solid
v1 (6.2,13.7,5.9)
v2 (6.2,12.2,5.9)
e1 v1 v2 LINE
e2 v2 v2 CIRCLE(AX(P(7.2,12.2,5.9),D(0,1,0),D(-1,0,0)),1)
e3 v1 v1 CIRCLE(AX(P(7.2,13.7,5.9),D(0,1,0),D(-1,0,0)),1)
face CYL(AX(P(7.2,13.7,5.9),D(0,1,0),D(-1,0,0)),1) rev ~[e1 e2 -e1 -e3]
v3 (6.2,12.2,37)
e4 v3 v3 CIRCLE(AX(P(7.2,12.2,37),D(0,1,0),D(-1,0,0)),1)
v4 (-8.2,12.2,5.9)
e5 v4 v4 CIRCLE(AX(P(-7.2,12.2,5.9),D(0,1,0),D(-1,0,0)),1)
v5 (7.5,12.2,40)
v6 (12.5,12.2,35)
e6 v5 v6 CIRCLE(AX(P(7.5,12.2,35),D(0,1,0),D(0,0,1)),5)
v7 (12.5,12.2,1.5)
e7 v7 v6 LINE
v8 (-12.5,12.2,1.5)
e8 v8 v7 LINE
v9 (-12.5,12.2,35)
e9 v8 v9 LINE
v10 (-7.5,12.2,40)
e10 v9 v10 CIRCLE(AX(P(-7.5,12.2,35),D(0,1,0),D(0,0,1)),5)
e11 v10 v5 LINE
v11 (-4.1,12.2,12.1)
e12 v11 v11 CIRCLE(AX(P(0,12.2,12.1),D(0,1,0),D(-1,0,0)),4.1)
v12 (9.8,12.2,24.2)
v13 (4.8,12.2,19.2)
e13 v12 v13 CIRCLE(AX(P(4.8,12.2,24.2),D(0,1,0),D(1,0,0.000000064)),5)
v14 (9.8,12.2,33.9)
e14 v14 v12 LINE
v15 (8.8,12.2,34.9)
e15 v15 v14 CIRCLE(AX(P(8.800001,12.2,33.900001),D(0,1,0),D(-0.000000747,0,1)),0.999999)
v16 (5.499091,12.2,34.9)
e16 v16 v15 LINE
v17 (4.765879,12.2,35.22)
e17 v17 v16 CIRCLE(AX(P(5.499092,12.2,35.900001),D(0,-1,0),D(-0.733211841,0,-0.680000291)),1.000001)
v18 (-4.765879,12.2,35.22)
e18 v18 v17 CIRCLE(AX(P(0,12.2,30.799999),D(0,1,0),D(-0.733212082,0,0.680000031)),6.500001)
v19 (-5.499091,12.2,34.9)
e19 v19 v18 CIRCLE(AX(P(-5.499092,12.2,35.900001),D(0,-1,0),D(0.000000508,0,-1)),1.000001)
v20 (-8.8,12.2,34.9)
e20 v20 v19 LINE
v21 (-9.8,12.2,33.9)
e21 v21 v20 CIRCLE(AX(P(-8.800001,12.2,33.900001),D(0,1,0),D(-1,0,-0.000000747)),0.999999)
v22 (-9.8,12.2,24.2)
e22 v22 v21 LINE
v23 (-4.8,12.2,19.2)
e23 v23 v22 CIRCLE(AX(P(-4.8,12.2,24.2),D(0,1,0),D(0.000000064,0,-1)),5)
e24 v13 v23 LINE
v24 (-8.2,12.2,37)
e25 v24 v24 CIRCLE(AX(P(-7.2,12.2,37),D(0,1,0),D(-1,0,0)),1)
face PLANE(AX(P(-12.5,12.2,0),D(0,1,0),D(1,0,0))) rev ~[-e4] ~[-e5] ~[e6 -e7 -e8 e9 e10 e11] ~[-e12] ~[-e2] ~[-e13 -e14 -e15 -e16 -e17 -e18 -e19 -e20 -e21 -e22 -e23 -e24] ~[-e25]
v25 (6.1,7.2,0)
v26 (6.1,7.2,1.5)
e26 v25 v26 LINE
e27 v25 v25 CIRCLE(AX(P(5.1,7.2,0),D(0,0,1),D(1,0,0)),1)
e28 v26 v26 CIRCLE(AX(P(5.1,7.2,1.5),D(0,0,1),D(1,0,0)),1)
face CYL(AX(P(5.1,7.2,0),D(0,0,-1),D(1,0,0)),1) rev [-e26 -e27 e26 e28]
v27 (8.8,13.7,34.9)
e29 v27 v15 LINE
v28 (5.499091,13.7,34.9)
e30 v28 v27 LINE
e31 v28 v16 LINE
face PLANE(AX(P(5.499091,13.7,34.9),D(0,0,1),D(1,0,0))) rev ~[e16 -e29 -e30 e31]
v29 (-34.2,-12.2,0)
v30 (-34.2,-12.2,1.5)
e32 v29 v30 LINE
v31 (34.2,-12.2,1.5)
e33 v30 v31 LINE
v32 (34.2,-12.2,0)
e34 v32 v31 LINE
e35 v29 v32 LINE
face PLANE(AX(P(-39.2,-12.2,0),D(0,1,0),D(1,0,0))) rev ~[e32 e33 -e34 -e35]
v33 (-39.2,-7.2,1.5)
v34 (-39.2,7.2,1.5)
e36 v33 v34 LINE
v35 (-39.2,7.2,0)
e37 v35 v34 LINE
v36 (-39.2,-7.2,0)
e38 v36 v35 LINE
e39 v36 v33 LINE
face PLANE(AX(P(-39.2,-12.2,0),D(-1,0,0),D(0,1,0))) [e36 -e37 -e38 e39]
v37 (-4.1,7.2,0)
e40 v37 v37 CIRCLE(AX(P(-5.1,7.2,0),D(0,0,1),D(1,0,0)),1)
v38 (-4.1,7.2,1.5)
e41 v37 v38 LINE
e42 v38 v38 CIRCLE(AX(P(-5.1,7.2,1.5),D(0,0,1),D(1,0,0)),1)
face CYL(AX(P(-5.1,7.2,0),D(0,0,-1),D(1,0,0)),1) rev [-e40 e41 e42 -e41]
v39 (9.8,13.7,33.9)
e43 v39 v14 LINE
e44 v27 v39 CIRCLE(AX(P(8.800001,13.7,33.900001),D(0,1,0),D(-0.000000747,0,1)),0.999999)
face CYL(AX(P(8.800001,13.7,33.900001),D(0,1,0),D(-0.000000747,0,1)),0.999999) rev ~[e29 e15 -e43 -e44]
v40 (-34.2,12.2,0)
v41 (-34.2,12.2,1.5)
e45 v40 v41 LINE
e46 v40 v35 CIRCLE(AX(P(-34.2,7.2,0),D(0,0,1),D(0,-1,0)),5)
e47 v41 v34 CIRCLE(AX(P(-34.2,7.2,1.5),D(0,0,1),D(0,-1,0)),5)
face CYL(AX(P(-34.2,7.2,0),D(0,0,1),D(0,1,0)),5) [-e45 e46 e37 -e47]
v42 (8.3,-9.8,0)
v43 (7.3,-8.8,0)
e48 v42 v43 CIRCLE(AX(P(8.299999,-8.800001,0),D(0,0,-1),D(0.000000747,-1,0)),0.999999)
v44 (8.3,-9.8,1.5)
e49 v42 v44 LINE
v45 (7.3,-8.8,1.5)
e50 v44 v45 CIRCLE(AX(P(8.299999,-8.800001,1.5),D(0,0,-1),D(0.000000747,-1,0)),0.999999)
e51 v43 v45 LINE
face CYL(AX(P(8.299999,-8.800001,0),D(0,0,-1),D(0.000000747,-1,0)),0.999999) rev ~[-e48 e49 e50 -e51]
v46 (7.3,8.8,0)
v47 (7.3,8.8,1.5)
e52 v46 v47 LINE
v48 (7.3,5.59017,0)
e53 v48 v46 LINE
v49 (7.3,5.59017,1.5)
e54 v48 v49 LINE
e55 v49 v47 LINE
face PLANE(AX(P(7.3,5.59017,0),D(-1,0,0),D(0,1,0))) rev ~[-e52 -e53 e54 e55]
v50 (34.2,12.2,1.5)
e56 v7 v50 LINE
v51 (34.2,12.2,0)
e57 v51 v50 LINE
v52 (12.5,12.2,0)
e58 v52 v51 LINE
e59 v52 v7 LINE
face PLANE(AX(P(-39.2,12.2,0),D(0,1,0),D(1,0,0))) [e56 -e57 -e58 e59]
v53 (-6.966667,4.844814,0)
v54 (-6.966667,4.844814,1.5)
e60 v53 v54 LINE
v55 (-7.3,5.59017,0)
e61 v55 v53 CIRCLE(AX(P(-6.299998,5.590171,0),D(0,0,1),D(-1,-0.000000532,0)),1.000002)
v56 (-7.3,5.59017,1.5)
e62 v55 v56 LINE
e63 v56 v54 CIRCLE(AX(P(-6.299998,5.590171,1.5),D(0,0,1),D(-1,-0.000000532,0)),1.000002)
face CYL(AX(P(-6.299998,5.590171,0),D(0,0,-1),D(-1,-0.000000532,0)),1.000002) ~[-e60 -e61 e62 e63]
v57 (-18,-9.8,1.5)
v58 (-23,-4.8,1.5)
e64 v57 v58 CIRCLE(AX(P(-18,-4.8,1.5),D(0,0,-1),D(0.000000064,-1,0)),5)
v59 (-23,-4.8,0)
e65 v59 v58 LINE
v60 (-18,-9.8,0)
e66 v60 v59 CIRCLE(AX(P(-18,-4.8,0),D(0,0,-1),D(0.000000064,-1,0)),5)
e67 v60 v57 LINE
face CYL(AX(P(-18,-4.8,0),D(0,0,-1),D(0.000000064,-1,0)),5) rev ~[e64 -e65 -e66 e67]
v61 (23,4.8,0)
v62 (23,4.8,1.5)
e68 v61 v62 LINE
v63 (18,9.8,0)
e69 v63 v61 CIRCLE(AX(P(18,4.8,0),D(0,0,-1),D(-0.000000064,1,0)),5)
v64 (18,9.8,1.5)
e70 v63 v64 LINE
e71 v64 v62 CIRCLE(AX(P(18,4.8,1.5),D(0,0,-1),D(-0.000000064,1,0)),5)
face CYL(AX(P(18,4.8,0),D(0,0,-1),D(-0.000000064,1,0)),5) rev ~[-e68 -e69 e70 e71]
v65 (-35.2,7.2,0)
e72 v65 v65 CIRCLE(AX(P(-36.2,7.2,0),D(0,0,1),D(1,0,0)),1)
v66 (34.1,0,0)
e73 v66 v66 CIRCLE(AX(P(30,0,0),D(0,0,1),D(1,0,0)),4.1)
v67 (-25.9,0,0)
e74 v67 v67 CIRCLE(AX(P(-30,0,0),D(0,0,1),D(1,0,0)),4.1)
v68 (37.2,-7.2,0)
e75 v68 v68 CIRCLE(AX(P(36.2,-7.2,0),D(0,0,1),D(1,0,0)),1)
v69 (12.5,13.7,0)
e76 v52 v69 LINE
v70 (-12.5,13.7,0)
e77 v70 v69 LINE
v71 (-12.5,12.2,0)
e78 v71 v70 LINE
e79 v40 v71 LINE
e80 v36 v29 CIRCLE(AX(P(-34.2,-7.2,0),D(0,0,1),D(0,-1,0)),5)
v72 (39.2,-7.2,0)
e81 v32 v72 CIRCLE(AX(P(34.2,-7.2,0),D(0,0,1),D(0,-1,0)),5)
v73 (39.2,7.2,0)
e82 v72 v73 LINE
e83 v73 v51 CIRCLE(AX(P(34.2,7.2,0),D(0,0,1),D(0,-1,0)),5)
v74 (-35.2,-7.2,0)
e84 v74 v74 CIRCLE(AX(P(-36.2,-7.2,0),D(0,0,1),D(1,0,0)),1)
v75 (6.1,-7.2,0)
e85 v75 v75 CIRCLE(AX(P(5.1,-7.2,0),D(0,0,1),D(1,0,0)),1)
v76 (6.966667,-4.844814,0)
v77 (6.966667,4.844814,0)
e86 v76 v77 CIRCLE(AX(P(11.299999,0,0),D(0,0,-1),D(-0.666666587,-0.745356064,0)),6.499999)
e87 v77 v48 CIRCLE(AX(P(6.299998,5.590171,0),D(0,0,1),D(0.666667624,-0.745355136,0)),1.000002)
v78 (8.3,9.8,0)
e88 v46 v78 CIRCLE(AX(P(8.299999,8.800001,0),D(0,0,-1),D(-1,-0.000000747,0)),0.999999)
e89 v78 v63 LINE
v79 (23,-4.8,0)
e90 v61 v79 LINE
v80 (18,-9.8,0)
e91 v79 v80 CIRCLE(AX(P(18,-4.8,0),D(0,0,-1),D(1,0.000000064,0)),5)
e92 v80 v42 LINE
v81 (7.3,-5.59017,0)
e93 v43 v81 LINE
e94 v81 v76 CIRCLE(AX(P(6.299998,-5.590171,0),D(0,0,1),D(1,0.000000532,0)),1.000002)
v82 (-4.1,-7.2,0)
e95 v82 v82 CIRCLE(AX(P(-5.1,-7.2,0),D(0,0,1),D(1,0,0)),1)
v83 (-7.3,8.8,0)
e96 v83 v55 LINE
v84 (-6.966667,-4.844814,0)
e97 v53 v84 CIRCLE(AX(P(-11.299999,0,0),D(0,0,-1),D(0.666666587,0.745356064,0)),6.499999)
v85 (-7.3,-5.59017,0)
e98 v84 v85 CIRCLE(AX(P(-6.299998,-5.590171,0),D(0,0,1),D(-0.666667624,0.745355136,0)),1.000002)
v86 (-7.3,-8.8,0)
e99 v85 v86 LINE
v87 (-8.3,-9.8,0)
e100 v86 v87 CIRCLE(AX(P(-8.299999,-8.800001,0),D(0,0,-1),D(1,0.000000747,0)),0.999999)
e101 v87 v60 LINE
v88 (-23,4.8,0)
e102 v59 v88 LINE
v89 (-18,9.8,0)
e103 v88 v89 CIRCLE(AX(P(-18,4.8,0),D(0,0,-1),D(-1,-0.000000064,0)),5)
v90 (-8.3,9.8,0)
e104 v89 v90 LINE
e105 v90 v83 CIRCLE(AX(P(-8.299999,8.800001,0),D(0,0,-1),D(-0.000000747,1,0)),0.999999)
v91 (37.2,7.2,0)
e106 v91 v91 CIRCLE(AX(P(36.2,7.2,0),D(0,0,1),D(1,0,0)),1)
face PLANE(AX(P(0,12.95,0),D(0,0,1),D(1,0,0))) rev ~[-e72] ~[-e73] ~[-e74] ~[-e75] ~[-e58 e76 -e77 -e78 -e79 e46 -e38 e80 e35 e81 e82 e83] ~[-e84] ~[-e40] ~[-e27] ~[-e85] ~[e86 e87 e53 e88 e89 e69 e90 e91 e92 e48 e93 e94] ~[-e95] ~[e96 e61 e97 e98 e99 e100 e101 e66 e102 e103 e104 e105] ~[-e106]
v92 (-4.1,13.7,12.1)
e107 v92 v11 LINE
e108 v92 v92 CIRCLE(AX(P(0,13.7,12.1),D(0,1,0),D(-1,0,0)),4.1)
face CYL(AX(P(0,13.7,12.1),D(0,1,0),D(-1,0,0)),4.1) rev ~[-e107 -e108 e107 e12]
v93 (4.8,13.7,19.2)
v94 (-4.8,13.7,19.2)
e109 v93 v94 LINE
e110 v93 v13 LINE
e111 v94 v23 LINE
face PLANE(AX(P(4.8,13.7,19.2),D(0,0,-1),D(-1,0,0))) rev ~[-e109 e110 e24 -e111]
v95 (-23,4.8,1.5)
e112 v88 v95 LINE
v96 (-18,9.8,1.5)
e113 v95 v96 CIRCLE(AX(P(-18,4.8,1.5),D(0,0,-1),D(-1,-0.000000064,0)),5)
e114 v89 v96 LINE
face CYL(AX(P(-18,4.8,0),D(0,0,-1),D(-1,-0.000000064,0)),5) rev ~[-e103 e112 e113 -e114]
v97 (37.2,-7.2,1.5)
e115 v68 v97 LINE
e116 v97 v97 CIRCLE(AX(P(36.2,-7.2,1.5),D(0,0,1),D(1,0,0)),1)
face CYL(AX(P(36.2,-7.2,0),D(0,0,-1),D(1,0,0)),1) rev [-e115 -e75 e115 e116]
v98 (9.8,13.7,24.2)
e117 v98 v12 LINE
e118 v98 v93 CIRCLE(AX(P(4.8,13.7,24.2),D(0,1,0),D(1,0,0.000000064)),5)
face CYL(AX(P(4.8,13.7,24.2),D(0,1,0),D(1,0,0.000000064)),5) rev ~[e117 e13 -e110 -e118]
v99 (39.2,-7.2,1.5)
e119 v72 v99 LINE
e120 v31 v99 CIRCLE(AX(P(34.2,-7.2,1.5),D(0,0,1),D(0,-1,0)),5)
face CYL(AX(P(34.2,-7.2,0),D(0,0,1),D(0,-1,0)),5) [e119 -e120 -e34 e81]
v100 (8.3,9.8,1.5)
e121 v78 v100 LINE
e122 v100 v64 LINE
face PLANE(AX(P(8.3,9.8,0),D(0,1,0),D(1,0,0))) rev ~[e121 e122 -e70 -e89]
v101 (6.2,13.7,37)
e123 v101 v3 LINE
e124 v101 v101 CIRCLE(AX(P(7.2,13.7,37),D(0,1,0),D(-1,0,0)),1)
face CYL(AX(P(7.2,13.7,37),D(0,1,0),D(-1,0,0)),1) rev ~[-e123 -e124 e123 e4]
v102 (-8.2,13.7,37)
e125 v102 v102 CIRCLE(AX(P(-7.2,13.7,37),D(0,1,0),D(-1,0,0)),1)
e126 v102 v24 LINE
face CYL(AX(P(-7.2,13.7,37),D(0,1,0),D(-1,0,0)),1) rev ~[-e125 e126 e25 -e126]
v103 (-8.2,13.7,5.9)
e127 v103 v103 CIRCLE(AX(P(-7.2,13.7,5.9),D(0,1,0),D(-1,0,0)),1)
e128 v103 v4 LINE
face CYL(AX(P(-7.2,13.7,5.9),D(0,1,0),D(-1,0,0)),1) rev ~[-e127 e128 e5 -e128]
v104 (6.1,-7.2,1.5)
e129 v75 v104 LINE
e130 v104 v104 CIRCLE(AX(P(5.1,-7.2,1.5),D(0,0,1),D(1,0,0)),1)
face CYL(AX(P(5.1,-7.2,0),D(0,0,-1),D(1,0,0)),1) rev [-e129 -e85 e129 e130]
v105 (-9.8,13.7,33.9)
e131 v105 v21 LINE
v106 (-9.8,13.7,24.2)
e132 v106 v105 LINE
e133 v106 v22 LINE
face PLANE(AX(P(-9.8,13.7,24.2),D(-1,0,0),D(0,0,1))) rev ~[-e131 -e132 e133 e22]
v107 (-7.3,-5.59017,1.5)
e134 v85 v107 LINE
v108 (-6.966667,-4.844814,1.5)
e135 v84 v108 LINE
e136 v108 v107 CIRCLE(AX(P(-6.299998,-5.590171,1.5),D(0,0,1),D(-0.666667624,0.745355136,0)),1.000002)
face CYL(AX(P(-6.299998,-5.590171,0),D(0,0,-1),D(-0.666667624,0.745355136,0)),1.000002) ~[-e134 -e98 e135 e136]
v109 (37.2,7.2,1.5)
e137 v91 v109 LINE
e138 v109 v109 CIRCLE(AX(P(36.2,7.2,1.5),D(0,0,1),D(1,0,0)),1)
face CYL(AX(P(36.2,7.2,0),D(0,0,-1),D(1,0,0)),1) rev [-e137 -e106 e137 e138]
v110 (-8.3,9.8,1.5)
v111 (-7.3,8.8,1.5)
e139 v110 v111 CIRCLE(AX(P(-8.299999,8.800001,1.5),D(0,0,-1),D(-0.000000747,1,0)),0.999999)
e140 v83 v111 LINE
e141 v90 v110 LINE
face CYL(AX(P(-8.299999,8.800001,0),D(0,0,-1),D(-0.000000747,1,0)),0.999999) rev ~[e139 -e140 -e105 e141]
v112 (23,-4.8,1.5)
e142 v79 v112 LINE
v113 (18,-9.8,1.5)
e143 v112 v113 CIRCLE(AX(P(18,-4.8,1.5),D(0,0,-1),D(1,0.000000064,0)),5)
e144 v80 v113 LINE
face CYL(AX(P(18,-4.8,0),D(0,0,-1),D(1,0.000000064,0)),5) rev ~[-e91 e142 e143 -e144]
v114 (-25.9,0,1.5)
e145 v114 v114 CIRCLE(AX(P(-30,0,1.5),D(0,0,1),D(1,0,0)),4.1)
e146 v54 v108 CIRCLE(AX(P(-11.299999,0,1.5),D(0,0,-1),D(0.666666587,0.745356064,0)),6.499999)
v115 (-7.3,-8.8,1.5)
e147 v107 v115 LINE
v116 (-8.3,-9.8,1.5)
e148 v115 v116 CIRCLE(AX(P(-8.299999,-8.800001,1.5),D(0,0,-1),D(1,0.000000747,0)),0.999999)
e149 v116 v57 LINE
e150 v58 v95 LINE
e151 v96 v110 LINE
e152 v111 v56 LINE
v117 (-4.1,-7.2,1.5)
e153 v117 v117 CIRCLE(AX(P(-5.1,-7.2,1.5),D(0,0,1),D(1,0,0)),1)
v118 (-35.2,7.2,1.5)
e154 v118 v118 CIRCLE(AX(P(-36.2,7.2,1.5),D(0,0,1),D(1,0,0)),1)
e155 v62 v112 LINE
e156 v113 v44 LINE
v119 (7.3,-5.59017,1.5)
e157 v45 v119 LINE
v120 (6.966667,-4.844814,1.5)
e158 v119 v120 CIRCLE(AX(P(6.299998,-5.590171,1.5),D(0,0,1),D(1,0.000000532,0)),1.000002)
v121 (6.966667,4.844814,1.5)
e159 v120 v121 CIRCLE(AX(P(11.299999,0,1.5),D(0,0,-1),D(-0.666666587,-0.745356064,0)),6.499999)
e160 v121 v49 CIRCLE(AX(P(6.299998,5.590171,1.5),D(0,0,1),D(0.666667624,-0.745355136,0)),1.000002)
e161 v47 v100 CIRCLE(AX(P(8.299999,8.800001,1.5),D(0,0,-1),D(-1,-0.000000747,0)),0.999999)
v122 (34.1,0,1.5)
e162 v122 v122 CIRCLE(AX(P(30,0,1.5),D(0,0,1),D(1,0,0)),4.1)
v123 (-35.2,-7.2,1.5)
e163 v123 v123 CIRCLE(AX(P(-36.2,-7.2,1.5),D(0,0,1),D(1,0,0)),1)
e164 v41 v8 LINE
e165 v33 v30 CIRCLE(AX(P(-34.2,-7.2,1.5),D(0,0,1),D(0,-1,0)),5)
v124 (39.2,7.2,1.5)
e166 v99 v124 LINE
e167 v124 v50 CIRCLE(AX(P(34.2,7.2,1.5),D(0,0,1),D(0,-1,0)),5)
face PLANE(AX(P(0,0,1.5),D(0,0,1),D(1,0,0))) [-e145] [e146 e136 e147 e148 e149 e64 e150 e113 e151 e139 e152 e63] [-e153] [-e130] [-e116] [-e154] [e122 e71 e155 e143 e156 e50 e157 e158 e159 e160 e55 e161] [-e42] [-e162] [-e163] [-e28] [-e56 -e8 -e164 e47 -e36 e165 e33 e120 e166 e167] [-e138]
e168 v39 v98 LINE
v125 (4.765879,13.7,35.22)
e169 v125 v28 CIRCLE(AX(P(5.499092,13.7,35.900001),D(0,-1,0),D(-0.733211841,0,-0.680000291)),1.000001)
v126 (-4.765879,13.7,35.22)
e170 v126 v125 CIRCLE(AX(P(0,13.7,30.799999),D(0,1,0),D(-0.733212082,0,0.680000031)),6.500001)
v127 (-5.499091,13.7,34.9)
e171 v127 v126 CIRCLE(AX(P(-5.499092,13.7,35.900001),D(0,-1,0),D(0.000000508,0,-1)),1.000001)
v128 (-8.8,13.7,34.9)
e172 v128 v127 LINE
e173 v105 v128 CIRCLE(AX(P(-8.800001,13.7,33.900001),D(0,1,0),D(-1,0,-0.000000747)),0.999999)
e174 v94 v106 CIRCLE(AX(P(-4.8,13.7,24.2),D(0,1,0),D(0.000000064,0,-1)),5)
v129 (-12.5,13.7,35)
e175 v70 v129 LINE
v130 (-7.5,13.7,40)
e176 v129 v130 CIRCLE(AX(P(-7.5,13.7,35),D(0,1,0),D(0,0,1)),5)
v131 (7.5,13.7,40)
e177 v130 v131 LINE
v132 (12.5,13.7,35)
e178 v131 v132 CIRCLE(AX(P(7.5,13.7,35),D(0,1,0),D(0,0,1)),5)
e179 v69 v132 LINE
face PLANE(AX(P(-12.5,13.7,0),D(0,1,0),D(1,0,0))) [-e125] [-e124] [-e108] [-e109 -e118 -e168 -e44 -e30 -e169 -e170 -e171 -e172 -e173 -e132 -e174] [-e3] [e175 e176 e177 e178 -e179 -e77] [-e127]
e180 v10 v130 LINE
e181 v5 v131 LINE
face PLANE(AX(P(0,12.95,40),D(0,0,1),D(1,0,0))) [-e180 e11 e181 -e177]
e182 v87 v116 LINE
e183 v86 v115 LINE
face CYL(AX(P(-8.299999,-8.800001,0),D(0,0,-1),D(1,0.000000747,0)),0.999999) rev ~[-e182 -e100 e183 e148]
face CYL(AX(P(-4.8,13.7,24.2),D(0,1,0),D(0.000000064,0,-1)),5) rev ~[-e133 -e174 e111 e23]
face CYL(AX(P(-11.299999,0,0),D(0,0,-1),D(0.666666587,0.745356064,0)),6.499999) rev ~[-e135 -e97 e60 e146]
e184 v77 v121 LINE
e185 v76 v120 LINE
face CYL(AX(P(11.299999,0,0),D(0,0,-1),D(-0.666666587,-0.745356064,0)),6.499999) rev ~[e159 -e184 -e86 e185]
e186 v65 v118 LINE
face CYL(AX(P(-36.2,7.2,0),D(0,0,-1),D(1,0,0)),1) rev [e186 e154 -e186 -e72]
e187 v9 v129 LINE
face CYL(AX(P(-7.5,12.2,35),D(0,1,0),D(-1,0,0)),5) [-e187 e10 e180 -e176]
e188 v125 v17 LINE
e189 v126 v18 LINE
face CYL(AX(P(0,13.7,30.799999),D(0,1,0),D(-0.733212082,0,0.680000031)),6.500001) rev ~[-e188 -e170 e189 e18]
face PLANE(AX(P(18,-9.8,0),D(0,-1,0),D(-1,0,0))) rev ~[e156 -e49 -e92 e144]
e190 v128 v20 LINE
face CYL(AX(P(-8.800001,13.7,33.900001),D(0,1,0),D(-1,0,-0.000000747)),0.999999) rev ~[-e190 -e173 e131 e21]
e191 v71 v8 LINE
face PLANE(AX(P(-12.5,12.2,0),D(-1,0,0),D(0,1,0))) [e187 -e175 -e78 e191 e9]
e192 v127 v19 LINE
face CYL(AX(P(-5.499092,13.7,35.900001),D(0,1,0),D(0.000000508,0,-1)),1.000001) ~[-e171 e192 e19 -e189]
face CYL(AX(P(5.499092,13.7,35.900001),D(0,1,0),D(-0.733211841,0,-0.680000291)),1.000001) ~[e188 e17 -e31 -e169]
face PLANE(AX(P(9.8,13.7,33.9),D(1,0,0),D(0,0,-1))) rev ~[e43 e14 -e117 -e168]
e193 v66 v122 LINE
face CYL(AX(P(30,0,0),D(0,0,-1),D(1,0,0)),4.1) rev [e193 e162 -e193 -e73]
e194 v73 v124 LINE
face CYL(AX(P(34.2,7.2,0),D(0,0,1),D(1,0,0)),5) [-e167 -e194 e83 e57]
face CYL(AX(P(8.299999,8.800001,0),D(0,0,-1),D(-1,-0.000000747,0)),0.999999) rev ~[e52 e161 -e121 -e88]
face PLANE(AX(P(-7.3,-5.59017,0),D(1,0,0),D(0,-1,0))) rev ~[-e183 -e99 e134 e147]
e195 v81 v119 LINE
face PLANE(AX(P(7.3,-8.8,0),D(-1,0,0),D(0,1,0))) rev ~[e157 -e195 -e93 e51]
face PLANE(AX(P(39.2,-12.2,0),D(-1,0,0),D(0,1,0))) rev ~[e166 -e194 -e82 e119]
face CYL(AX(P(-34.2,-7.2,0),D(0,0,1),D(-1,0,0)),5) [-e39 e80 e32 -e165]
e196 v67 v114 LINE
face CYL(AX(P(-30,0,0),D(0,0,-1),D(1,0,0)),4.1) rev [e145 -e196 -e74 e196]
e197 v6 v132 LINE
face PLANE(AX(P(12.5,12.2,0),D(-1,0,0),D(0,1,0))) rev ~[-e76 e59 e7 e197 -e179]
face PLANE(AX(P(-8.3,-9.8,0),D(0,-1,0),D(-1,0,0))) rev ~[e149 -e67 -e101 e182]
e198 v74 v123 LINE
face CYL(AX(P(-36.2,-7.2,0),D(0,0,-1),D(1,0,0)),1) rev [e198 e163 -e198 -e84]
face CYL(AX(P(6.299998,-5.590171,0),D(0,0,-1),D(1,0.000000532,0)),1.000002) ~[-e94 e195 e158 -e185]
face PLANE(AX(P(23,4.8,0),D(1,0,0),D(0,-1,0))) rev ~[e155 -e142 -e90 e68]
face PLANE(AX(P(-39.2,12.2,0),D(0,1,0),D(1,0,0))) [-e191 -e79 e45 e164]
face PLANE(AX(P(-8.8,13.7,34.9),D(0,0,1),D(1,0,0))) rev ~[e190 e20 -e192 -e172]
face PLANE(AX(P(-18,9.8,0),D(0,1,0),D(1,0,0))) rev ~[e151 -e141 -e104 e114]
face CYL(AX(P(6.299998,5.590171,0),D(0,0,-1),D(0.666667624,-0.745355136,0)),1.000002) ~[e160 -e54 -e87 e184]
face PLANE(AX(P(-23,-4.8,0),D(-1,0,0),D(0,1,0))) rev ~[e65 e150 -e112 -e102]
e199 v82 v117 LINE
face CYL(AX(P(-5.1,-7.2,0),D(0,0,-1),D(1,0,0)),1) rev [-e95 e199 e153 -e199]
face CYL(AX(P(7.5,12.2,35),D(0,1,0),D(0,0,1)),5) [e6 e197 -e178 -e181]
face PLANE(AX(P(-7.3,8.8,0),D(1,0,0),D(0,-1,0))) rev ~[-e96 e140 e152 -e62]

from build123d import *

# Parameters (mm, degrees)
F0_W     = 78.4
F0_H     = 24.4
F0_R     = 1
F0_R_2   = 4.1
F1_DEPTH = 1.5
F2_W     = 25
F2_H     = 1.5
F3_DEPTH = 40
F4_R     = 1
F4_R_2   = 4.1
F5_DEPTH = 1.5
F6_R     = 5


with BuildPart() as f1:
    # F0 (on Top) → F1 (new body)
    with BuildSketch(Plane.XY):
        Rectangle(F0_W, F0_H)
        with Locations((-36.2, -7.2)):
            Circle(F0_R, mode=Mode.SUBTRACT)
        with Locations((-5.1, -7.2)):
            Circle(F0_R, mode=Mode.SUBTRACT)
        with Locations((5.1, -7.2)):
            Circle(F0_R, mode=Mode.SUBTRACT)
        with Locations((36.2, -7.2)):
            Circle(F0_R, mode=Mode.SUBTRACT)
        with Locations((-30, 0)):
            Circle(F0_R_2, mode=Mode.SUBTRACT)
        with BuildLine():
            ThreePointArc((-23, 4.8), (-21.535534, 8.335534), (-18, 9.8))
            Line((-18, 9.8), (-8.3, 9.8))
            ThreePointArc((-8.3, 9.8), (-7.592893, 9.507107), (-7.3, 8.8))
            Line((-7.3, 8.8), (-7.3, 5.59017))
            ThreePointArc((-7.3, 5.59017), (-7.212871, 5.181922), (-6.966667, 4.844814))
            ThreePointArc((-6.966667, 4.844814), (-4.8, 0), (-6.966667, -4.844814))
            ThreePointArc((-6.966667, -4.844814), (-7.212871, -5.181922), (-7.3, -5.59017))
            Line((-7.3, -5.59017), (-7.3, -8.8))
            ThreePointArc((-7.3, -8.8), (-7.592893, -9.507107), (-8.3, -9.8))
            Line((-8.3, -9.8), (-18, -9.8))
            ThreePointArc((-18, -9.8), (-21.535534, -8.335534), (-23, -4.8))
            Line((-23, -4.8), (-23, 4.8))
        make_face(mode=Mode.SUBTRACT)
        with Locations((-36.2, 7.2)):
            Circle(F0_R, mode=Mode.SUBTRACT)
        with Locations((-5.1, 7.2)):
            Circle(F0_R, mode=Mode.SUBTRACT)
        with BuildLine():
            Line((7.3, 5.59017), (7.3, 8.8))
            ThreePointArc((7.3, 8.8), (7.592893, 9.507107), (8.3, 9.8))
            Line((8.3, 9.8), (18, 9.8))
            ThreePointArc((18, 9.8), (21.535534, 8.335534), (23, 4.8))
            Line((23, 4.8), (23, -4.8))
            ThreePointArc((23, -4.8), (21.535534, -8.335534), (18, -9.8))
            Line((18, -9.8), (8.3, -9.8))
            ThreePointArc((8.3, -9.8), (7.592893, -9.507107), (7.3, -8.8))
            Line((7.3, -8.8), (7.3, -5.59017))
            ThreePointArc((7.3, -5.59017), (7.212871, -5.181922), (6.966667, -4.844814))
            ThreePointArc((6.966667, -4.844814), (4.8, 0), (6.966667, 4.844814))
            ThreePointArc((6.966667, 4.844814), (7.212871, 5.181922), (7.3, 5.59017))
        make_face(mode=Mode.SUBTRACT)
        with Locations((30, 0)):
            Circle(F0_R_2, mode=Mode.SUBTRACT)
        with Locations((5.1, 7.2)):
            Circle(F0_R, mode=Mode.SUBTRACT)
        with Locations((36.2, 7.2)):
            Circle(F0_R, mode=Mode.SUBTRACT)
    extrude(amount=F1_DEPTH)

    # F2 (on Top) → F3 (join)
    with BuildSketch(Plane.XY):
        with Locations((0, 12.95)):
            Rectangle(F2_W, F2_H)
    extrude(amount=F3_DEPTH)

    # F4 (on face) → F5 (cut, through all)
    with BuildSketch(Plane(origin=(0, 13.7, 0), x_dir=(-1, 0, 0), z_dir=(0, 1, 0))):
        with Locations((7.2, 37)):
            Circle(F4_R)
        with Locations((7.2, 5.9)):
            Circle(F4_R)
        with Locations((0, 12.1)):
            Circle(F4_R_2)
        with BuildLine():
            ThreePointArc((9.8, 33.9), (9.507107, 34.607107), (8.8, 34.9))
            Line((8.8, 34.9), (5.499091, 34.9))
            ThreePointArc((5.499091, 34.9), (5.099091, 34.983485), (4.765879, 35.22))
            ThreePointArc((4.765879, 35.22), (0, 37.3), (-4.765879, 35.22))
            ThreePointArc((-4.765879, 35.22), (-5.099091, 34.983485), (-5.499091, 34.9))
            Line((-5.499091, 34.9), (-8.8, 34.9))
            ThreePointArc((-8.8, 34.9), (-9.507107, 34.607107), (-9.8, 33.9))
            Line((-9.8, 33.9), (-9.8, 24.2))
            ThreePointArc((-9.8, 24.2), (-8.335534, 20.664466), (-4.8, 19.2))
            Line((-4.8, 19.2), (4.8, 19.2))
            ThreePointArc((4.8, 19.2), (8.335534, 20.664466), (9.8, 24.2))
            Line((9.8, 24.2), (9.8, 33.9))
        make_face()
        with Locations((-7.2, 37)):
            Circle(F4_R)
        with Locations((-7.2, 5.9)):
            Circle(F4_R)
    extrude(amount=-F5_DEPTH, mode=Mode.SUBTRACT)

    # F6
    f6_edges = [f1.edges().sort_by_distance(p)[0] for p in [
        (-39.2, 12.2, 0.75),
        (-39.2, -12.2, 0.75),
        (39.2, 12.2, 0.75),
        (39.2, -12.2, 0.75),
        (-12.5, 12.95, 40),
        (12.5, 12.95, 40),
    ]]
    fillet(f6_edges, radius=F6_R)


solid = f1.part
